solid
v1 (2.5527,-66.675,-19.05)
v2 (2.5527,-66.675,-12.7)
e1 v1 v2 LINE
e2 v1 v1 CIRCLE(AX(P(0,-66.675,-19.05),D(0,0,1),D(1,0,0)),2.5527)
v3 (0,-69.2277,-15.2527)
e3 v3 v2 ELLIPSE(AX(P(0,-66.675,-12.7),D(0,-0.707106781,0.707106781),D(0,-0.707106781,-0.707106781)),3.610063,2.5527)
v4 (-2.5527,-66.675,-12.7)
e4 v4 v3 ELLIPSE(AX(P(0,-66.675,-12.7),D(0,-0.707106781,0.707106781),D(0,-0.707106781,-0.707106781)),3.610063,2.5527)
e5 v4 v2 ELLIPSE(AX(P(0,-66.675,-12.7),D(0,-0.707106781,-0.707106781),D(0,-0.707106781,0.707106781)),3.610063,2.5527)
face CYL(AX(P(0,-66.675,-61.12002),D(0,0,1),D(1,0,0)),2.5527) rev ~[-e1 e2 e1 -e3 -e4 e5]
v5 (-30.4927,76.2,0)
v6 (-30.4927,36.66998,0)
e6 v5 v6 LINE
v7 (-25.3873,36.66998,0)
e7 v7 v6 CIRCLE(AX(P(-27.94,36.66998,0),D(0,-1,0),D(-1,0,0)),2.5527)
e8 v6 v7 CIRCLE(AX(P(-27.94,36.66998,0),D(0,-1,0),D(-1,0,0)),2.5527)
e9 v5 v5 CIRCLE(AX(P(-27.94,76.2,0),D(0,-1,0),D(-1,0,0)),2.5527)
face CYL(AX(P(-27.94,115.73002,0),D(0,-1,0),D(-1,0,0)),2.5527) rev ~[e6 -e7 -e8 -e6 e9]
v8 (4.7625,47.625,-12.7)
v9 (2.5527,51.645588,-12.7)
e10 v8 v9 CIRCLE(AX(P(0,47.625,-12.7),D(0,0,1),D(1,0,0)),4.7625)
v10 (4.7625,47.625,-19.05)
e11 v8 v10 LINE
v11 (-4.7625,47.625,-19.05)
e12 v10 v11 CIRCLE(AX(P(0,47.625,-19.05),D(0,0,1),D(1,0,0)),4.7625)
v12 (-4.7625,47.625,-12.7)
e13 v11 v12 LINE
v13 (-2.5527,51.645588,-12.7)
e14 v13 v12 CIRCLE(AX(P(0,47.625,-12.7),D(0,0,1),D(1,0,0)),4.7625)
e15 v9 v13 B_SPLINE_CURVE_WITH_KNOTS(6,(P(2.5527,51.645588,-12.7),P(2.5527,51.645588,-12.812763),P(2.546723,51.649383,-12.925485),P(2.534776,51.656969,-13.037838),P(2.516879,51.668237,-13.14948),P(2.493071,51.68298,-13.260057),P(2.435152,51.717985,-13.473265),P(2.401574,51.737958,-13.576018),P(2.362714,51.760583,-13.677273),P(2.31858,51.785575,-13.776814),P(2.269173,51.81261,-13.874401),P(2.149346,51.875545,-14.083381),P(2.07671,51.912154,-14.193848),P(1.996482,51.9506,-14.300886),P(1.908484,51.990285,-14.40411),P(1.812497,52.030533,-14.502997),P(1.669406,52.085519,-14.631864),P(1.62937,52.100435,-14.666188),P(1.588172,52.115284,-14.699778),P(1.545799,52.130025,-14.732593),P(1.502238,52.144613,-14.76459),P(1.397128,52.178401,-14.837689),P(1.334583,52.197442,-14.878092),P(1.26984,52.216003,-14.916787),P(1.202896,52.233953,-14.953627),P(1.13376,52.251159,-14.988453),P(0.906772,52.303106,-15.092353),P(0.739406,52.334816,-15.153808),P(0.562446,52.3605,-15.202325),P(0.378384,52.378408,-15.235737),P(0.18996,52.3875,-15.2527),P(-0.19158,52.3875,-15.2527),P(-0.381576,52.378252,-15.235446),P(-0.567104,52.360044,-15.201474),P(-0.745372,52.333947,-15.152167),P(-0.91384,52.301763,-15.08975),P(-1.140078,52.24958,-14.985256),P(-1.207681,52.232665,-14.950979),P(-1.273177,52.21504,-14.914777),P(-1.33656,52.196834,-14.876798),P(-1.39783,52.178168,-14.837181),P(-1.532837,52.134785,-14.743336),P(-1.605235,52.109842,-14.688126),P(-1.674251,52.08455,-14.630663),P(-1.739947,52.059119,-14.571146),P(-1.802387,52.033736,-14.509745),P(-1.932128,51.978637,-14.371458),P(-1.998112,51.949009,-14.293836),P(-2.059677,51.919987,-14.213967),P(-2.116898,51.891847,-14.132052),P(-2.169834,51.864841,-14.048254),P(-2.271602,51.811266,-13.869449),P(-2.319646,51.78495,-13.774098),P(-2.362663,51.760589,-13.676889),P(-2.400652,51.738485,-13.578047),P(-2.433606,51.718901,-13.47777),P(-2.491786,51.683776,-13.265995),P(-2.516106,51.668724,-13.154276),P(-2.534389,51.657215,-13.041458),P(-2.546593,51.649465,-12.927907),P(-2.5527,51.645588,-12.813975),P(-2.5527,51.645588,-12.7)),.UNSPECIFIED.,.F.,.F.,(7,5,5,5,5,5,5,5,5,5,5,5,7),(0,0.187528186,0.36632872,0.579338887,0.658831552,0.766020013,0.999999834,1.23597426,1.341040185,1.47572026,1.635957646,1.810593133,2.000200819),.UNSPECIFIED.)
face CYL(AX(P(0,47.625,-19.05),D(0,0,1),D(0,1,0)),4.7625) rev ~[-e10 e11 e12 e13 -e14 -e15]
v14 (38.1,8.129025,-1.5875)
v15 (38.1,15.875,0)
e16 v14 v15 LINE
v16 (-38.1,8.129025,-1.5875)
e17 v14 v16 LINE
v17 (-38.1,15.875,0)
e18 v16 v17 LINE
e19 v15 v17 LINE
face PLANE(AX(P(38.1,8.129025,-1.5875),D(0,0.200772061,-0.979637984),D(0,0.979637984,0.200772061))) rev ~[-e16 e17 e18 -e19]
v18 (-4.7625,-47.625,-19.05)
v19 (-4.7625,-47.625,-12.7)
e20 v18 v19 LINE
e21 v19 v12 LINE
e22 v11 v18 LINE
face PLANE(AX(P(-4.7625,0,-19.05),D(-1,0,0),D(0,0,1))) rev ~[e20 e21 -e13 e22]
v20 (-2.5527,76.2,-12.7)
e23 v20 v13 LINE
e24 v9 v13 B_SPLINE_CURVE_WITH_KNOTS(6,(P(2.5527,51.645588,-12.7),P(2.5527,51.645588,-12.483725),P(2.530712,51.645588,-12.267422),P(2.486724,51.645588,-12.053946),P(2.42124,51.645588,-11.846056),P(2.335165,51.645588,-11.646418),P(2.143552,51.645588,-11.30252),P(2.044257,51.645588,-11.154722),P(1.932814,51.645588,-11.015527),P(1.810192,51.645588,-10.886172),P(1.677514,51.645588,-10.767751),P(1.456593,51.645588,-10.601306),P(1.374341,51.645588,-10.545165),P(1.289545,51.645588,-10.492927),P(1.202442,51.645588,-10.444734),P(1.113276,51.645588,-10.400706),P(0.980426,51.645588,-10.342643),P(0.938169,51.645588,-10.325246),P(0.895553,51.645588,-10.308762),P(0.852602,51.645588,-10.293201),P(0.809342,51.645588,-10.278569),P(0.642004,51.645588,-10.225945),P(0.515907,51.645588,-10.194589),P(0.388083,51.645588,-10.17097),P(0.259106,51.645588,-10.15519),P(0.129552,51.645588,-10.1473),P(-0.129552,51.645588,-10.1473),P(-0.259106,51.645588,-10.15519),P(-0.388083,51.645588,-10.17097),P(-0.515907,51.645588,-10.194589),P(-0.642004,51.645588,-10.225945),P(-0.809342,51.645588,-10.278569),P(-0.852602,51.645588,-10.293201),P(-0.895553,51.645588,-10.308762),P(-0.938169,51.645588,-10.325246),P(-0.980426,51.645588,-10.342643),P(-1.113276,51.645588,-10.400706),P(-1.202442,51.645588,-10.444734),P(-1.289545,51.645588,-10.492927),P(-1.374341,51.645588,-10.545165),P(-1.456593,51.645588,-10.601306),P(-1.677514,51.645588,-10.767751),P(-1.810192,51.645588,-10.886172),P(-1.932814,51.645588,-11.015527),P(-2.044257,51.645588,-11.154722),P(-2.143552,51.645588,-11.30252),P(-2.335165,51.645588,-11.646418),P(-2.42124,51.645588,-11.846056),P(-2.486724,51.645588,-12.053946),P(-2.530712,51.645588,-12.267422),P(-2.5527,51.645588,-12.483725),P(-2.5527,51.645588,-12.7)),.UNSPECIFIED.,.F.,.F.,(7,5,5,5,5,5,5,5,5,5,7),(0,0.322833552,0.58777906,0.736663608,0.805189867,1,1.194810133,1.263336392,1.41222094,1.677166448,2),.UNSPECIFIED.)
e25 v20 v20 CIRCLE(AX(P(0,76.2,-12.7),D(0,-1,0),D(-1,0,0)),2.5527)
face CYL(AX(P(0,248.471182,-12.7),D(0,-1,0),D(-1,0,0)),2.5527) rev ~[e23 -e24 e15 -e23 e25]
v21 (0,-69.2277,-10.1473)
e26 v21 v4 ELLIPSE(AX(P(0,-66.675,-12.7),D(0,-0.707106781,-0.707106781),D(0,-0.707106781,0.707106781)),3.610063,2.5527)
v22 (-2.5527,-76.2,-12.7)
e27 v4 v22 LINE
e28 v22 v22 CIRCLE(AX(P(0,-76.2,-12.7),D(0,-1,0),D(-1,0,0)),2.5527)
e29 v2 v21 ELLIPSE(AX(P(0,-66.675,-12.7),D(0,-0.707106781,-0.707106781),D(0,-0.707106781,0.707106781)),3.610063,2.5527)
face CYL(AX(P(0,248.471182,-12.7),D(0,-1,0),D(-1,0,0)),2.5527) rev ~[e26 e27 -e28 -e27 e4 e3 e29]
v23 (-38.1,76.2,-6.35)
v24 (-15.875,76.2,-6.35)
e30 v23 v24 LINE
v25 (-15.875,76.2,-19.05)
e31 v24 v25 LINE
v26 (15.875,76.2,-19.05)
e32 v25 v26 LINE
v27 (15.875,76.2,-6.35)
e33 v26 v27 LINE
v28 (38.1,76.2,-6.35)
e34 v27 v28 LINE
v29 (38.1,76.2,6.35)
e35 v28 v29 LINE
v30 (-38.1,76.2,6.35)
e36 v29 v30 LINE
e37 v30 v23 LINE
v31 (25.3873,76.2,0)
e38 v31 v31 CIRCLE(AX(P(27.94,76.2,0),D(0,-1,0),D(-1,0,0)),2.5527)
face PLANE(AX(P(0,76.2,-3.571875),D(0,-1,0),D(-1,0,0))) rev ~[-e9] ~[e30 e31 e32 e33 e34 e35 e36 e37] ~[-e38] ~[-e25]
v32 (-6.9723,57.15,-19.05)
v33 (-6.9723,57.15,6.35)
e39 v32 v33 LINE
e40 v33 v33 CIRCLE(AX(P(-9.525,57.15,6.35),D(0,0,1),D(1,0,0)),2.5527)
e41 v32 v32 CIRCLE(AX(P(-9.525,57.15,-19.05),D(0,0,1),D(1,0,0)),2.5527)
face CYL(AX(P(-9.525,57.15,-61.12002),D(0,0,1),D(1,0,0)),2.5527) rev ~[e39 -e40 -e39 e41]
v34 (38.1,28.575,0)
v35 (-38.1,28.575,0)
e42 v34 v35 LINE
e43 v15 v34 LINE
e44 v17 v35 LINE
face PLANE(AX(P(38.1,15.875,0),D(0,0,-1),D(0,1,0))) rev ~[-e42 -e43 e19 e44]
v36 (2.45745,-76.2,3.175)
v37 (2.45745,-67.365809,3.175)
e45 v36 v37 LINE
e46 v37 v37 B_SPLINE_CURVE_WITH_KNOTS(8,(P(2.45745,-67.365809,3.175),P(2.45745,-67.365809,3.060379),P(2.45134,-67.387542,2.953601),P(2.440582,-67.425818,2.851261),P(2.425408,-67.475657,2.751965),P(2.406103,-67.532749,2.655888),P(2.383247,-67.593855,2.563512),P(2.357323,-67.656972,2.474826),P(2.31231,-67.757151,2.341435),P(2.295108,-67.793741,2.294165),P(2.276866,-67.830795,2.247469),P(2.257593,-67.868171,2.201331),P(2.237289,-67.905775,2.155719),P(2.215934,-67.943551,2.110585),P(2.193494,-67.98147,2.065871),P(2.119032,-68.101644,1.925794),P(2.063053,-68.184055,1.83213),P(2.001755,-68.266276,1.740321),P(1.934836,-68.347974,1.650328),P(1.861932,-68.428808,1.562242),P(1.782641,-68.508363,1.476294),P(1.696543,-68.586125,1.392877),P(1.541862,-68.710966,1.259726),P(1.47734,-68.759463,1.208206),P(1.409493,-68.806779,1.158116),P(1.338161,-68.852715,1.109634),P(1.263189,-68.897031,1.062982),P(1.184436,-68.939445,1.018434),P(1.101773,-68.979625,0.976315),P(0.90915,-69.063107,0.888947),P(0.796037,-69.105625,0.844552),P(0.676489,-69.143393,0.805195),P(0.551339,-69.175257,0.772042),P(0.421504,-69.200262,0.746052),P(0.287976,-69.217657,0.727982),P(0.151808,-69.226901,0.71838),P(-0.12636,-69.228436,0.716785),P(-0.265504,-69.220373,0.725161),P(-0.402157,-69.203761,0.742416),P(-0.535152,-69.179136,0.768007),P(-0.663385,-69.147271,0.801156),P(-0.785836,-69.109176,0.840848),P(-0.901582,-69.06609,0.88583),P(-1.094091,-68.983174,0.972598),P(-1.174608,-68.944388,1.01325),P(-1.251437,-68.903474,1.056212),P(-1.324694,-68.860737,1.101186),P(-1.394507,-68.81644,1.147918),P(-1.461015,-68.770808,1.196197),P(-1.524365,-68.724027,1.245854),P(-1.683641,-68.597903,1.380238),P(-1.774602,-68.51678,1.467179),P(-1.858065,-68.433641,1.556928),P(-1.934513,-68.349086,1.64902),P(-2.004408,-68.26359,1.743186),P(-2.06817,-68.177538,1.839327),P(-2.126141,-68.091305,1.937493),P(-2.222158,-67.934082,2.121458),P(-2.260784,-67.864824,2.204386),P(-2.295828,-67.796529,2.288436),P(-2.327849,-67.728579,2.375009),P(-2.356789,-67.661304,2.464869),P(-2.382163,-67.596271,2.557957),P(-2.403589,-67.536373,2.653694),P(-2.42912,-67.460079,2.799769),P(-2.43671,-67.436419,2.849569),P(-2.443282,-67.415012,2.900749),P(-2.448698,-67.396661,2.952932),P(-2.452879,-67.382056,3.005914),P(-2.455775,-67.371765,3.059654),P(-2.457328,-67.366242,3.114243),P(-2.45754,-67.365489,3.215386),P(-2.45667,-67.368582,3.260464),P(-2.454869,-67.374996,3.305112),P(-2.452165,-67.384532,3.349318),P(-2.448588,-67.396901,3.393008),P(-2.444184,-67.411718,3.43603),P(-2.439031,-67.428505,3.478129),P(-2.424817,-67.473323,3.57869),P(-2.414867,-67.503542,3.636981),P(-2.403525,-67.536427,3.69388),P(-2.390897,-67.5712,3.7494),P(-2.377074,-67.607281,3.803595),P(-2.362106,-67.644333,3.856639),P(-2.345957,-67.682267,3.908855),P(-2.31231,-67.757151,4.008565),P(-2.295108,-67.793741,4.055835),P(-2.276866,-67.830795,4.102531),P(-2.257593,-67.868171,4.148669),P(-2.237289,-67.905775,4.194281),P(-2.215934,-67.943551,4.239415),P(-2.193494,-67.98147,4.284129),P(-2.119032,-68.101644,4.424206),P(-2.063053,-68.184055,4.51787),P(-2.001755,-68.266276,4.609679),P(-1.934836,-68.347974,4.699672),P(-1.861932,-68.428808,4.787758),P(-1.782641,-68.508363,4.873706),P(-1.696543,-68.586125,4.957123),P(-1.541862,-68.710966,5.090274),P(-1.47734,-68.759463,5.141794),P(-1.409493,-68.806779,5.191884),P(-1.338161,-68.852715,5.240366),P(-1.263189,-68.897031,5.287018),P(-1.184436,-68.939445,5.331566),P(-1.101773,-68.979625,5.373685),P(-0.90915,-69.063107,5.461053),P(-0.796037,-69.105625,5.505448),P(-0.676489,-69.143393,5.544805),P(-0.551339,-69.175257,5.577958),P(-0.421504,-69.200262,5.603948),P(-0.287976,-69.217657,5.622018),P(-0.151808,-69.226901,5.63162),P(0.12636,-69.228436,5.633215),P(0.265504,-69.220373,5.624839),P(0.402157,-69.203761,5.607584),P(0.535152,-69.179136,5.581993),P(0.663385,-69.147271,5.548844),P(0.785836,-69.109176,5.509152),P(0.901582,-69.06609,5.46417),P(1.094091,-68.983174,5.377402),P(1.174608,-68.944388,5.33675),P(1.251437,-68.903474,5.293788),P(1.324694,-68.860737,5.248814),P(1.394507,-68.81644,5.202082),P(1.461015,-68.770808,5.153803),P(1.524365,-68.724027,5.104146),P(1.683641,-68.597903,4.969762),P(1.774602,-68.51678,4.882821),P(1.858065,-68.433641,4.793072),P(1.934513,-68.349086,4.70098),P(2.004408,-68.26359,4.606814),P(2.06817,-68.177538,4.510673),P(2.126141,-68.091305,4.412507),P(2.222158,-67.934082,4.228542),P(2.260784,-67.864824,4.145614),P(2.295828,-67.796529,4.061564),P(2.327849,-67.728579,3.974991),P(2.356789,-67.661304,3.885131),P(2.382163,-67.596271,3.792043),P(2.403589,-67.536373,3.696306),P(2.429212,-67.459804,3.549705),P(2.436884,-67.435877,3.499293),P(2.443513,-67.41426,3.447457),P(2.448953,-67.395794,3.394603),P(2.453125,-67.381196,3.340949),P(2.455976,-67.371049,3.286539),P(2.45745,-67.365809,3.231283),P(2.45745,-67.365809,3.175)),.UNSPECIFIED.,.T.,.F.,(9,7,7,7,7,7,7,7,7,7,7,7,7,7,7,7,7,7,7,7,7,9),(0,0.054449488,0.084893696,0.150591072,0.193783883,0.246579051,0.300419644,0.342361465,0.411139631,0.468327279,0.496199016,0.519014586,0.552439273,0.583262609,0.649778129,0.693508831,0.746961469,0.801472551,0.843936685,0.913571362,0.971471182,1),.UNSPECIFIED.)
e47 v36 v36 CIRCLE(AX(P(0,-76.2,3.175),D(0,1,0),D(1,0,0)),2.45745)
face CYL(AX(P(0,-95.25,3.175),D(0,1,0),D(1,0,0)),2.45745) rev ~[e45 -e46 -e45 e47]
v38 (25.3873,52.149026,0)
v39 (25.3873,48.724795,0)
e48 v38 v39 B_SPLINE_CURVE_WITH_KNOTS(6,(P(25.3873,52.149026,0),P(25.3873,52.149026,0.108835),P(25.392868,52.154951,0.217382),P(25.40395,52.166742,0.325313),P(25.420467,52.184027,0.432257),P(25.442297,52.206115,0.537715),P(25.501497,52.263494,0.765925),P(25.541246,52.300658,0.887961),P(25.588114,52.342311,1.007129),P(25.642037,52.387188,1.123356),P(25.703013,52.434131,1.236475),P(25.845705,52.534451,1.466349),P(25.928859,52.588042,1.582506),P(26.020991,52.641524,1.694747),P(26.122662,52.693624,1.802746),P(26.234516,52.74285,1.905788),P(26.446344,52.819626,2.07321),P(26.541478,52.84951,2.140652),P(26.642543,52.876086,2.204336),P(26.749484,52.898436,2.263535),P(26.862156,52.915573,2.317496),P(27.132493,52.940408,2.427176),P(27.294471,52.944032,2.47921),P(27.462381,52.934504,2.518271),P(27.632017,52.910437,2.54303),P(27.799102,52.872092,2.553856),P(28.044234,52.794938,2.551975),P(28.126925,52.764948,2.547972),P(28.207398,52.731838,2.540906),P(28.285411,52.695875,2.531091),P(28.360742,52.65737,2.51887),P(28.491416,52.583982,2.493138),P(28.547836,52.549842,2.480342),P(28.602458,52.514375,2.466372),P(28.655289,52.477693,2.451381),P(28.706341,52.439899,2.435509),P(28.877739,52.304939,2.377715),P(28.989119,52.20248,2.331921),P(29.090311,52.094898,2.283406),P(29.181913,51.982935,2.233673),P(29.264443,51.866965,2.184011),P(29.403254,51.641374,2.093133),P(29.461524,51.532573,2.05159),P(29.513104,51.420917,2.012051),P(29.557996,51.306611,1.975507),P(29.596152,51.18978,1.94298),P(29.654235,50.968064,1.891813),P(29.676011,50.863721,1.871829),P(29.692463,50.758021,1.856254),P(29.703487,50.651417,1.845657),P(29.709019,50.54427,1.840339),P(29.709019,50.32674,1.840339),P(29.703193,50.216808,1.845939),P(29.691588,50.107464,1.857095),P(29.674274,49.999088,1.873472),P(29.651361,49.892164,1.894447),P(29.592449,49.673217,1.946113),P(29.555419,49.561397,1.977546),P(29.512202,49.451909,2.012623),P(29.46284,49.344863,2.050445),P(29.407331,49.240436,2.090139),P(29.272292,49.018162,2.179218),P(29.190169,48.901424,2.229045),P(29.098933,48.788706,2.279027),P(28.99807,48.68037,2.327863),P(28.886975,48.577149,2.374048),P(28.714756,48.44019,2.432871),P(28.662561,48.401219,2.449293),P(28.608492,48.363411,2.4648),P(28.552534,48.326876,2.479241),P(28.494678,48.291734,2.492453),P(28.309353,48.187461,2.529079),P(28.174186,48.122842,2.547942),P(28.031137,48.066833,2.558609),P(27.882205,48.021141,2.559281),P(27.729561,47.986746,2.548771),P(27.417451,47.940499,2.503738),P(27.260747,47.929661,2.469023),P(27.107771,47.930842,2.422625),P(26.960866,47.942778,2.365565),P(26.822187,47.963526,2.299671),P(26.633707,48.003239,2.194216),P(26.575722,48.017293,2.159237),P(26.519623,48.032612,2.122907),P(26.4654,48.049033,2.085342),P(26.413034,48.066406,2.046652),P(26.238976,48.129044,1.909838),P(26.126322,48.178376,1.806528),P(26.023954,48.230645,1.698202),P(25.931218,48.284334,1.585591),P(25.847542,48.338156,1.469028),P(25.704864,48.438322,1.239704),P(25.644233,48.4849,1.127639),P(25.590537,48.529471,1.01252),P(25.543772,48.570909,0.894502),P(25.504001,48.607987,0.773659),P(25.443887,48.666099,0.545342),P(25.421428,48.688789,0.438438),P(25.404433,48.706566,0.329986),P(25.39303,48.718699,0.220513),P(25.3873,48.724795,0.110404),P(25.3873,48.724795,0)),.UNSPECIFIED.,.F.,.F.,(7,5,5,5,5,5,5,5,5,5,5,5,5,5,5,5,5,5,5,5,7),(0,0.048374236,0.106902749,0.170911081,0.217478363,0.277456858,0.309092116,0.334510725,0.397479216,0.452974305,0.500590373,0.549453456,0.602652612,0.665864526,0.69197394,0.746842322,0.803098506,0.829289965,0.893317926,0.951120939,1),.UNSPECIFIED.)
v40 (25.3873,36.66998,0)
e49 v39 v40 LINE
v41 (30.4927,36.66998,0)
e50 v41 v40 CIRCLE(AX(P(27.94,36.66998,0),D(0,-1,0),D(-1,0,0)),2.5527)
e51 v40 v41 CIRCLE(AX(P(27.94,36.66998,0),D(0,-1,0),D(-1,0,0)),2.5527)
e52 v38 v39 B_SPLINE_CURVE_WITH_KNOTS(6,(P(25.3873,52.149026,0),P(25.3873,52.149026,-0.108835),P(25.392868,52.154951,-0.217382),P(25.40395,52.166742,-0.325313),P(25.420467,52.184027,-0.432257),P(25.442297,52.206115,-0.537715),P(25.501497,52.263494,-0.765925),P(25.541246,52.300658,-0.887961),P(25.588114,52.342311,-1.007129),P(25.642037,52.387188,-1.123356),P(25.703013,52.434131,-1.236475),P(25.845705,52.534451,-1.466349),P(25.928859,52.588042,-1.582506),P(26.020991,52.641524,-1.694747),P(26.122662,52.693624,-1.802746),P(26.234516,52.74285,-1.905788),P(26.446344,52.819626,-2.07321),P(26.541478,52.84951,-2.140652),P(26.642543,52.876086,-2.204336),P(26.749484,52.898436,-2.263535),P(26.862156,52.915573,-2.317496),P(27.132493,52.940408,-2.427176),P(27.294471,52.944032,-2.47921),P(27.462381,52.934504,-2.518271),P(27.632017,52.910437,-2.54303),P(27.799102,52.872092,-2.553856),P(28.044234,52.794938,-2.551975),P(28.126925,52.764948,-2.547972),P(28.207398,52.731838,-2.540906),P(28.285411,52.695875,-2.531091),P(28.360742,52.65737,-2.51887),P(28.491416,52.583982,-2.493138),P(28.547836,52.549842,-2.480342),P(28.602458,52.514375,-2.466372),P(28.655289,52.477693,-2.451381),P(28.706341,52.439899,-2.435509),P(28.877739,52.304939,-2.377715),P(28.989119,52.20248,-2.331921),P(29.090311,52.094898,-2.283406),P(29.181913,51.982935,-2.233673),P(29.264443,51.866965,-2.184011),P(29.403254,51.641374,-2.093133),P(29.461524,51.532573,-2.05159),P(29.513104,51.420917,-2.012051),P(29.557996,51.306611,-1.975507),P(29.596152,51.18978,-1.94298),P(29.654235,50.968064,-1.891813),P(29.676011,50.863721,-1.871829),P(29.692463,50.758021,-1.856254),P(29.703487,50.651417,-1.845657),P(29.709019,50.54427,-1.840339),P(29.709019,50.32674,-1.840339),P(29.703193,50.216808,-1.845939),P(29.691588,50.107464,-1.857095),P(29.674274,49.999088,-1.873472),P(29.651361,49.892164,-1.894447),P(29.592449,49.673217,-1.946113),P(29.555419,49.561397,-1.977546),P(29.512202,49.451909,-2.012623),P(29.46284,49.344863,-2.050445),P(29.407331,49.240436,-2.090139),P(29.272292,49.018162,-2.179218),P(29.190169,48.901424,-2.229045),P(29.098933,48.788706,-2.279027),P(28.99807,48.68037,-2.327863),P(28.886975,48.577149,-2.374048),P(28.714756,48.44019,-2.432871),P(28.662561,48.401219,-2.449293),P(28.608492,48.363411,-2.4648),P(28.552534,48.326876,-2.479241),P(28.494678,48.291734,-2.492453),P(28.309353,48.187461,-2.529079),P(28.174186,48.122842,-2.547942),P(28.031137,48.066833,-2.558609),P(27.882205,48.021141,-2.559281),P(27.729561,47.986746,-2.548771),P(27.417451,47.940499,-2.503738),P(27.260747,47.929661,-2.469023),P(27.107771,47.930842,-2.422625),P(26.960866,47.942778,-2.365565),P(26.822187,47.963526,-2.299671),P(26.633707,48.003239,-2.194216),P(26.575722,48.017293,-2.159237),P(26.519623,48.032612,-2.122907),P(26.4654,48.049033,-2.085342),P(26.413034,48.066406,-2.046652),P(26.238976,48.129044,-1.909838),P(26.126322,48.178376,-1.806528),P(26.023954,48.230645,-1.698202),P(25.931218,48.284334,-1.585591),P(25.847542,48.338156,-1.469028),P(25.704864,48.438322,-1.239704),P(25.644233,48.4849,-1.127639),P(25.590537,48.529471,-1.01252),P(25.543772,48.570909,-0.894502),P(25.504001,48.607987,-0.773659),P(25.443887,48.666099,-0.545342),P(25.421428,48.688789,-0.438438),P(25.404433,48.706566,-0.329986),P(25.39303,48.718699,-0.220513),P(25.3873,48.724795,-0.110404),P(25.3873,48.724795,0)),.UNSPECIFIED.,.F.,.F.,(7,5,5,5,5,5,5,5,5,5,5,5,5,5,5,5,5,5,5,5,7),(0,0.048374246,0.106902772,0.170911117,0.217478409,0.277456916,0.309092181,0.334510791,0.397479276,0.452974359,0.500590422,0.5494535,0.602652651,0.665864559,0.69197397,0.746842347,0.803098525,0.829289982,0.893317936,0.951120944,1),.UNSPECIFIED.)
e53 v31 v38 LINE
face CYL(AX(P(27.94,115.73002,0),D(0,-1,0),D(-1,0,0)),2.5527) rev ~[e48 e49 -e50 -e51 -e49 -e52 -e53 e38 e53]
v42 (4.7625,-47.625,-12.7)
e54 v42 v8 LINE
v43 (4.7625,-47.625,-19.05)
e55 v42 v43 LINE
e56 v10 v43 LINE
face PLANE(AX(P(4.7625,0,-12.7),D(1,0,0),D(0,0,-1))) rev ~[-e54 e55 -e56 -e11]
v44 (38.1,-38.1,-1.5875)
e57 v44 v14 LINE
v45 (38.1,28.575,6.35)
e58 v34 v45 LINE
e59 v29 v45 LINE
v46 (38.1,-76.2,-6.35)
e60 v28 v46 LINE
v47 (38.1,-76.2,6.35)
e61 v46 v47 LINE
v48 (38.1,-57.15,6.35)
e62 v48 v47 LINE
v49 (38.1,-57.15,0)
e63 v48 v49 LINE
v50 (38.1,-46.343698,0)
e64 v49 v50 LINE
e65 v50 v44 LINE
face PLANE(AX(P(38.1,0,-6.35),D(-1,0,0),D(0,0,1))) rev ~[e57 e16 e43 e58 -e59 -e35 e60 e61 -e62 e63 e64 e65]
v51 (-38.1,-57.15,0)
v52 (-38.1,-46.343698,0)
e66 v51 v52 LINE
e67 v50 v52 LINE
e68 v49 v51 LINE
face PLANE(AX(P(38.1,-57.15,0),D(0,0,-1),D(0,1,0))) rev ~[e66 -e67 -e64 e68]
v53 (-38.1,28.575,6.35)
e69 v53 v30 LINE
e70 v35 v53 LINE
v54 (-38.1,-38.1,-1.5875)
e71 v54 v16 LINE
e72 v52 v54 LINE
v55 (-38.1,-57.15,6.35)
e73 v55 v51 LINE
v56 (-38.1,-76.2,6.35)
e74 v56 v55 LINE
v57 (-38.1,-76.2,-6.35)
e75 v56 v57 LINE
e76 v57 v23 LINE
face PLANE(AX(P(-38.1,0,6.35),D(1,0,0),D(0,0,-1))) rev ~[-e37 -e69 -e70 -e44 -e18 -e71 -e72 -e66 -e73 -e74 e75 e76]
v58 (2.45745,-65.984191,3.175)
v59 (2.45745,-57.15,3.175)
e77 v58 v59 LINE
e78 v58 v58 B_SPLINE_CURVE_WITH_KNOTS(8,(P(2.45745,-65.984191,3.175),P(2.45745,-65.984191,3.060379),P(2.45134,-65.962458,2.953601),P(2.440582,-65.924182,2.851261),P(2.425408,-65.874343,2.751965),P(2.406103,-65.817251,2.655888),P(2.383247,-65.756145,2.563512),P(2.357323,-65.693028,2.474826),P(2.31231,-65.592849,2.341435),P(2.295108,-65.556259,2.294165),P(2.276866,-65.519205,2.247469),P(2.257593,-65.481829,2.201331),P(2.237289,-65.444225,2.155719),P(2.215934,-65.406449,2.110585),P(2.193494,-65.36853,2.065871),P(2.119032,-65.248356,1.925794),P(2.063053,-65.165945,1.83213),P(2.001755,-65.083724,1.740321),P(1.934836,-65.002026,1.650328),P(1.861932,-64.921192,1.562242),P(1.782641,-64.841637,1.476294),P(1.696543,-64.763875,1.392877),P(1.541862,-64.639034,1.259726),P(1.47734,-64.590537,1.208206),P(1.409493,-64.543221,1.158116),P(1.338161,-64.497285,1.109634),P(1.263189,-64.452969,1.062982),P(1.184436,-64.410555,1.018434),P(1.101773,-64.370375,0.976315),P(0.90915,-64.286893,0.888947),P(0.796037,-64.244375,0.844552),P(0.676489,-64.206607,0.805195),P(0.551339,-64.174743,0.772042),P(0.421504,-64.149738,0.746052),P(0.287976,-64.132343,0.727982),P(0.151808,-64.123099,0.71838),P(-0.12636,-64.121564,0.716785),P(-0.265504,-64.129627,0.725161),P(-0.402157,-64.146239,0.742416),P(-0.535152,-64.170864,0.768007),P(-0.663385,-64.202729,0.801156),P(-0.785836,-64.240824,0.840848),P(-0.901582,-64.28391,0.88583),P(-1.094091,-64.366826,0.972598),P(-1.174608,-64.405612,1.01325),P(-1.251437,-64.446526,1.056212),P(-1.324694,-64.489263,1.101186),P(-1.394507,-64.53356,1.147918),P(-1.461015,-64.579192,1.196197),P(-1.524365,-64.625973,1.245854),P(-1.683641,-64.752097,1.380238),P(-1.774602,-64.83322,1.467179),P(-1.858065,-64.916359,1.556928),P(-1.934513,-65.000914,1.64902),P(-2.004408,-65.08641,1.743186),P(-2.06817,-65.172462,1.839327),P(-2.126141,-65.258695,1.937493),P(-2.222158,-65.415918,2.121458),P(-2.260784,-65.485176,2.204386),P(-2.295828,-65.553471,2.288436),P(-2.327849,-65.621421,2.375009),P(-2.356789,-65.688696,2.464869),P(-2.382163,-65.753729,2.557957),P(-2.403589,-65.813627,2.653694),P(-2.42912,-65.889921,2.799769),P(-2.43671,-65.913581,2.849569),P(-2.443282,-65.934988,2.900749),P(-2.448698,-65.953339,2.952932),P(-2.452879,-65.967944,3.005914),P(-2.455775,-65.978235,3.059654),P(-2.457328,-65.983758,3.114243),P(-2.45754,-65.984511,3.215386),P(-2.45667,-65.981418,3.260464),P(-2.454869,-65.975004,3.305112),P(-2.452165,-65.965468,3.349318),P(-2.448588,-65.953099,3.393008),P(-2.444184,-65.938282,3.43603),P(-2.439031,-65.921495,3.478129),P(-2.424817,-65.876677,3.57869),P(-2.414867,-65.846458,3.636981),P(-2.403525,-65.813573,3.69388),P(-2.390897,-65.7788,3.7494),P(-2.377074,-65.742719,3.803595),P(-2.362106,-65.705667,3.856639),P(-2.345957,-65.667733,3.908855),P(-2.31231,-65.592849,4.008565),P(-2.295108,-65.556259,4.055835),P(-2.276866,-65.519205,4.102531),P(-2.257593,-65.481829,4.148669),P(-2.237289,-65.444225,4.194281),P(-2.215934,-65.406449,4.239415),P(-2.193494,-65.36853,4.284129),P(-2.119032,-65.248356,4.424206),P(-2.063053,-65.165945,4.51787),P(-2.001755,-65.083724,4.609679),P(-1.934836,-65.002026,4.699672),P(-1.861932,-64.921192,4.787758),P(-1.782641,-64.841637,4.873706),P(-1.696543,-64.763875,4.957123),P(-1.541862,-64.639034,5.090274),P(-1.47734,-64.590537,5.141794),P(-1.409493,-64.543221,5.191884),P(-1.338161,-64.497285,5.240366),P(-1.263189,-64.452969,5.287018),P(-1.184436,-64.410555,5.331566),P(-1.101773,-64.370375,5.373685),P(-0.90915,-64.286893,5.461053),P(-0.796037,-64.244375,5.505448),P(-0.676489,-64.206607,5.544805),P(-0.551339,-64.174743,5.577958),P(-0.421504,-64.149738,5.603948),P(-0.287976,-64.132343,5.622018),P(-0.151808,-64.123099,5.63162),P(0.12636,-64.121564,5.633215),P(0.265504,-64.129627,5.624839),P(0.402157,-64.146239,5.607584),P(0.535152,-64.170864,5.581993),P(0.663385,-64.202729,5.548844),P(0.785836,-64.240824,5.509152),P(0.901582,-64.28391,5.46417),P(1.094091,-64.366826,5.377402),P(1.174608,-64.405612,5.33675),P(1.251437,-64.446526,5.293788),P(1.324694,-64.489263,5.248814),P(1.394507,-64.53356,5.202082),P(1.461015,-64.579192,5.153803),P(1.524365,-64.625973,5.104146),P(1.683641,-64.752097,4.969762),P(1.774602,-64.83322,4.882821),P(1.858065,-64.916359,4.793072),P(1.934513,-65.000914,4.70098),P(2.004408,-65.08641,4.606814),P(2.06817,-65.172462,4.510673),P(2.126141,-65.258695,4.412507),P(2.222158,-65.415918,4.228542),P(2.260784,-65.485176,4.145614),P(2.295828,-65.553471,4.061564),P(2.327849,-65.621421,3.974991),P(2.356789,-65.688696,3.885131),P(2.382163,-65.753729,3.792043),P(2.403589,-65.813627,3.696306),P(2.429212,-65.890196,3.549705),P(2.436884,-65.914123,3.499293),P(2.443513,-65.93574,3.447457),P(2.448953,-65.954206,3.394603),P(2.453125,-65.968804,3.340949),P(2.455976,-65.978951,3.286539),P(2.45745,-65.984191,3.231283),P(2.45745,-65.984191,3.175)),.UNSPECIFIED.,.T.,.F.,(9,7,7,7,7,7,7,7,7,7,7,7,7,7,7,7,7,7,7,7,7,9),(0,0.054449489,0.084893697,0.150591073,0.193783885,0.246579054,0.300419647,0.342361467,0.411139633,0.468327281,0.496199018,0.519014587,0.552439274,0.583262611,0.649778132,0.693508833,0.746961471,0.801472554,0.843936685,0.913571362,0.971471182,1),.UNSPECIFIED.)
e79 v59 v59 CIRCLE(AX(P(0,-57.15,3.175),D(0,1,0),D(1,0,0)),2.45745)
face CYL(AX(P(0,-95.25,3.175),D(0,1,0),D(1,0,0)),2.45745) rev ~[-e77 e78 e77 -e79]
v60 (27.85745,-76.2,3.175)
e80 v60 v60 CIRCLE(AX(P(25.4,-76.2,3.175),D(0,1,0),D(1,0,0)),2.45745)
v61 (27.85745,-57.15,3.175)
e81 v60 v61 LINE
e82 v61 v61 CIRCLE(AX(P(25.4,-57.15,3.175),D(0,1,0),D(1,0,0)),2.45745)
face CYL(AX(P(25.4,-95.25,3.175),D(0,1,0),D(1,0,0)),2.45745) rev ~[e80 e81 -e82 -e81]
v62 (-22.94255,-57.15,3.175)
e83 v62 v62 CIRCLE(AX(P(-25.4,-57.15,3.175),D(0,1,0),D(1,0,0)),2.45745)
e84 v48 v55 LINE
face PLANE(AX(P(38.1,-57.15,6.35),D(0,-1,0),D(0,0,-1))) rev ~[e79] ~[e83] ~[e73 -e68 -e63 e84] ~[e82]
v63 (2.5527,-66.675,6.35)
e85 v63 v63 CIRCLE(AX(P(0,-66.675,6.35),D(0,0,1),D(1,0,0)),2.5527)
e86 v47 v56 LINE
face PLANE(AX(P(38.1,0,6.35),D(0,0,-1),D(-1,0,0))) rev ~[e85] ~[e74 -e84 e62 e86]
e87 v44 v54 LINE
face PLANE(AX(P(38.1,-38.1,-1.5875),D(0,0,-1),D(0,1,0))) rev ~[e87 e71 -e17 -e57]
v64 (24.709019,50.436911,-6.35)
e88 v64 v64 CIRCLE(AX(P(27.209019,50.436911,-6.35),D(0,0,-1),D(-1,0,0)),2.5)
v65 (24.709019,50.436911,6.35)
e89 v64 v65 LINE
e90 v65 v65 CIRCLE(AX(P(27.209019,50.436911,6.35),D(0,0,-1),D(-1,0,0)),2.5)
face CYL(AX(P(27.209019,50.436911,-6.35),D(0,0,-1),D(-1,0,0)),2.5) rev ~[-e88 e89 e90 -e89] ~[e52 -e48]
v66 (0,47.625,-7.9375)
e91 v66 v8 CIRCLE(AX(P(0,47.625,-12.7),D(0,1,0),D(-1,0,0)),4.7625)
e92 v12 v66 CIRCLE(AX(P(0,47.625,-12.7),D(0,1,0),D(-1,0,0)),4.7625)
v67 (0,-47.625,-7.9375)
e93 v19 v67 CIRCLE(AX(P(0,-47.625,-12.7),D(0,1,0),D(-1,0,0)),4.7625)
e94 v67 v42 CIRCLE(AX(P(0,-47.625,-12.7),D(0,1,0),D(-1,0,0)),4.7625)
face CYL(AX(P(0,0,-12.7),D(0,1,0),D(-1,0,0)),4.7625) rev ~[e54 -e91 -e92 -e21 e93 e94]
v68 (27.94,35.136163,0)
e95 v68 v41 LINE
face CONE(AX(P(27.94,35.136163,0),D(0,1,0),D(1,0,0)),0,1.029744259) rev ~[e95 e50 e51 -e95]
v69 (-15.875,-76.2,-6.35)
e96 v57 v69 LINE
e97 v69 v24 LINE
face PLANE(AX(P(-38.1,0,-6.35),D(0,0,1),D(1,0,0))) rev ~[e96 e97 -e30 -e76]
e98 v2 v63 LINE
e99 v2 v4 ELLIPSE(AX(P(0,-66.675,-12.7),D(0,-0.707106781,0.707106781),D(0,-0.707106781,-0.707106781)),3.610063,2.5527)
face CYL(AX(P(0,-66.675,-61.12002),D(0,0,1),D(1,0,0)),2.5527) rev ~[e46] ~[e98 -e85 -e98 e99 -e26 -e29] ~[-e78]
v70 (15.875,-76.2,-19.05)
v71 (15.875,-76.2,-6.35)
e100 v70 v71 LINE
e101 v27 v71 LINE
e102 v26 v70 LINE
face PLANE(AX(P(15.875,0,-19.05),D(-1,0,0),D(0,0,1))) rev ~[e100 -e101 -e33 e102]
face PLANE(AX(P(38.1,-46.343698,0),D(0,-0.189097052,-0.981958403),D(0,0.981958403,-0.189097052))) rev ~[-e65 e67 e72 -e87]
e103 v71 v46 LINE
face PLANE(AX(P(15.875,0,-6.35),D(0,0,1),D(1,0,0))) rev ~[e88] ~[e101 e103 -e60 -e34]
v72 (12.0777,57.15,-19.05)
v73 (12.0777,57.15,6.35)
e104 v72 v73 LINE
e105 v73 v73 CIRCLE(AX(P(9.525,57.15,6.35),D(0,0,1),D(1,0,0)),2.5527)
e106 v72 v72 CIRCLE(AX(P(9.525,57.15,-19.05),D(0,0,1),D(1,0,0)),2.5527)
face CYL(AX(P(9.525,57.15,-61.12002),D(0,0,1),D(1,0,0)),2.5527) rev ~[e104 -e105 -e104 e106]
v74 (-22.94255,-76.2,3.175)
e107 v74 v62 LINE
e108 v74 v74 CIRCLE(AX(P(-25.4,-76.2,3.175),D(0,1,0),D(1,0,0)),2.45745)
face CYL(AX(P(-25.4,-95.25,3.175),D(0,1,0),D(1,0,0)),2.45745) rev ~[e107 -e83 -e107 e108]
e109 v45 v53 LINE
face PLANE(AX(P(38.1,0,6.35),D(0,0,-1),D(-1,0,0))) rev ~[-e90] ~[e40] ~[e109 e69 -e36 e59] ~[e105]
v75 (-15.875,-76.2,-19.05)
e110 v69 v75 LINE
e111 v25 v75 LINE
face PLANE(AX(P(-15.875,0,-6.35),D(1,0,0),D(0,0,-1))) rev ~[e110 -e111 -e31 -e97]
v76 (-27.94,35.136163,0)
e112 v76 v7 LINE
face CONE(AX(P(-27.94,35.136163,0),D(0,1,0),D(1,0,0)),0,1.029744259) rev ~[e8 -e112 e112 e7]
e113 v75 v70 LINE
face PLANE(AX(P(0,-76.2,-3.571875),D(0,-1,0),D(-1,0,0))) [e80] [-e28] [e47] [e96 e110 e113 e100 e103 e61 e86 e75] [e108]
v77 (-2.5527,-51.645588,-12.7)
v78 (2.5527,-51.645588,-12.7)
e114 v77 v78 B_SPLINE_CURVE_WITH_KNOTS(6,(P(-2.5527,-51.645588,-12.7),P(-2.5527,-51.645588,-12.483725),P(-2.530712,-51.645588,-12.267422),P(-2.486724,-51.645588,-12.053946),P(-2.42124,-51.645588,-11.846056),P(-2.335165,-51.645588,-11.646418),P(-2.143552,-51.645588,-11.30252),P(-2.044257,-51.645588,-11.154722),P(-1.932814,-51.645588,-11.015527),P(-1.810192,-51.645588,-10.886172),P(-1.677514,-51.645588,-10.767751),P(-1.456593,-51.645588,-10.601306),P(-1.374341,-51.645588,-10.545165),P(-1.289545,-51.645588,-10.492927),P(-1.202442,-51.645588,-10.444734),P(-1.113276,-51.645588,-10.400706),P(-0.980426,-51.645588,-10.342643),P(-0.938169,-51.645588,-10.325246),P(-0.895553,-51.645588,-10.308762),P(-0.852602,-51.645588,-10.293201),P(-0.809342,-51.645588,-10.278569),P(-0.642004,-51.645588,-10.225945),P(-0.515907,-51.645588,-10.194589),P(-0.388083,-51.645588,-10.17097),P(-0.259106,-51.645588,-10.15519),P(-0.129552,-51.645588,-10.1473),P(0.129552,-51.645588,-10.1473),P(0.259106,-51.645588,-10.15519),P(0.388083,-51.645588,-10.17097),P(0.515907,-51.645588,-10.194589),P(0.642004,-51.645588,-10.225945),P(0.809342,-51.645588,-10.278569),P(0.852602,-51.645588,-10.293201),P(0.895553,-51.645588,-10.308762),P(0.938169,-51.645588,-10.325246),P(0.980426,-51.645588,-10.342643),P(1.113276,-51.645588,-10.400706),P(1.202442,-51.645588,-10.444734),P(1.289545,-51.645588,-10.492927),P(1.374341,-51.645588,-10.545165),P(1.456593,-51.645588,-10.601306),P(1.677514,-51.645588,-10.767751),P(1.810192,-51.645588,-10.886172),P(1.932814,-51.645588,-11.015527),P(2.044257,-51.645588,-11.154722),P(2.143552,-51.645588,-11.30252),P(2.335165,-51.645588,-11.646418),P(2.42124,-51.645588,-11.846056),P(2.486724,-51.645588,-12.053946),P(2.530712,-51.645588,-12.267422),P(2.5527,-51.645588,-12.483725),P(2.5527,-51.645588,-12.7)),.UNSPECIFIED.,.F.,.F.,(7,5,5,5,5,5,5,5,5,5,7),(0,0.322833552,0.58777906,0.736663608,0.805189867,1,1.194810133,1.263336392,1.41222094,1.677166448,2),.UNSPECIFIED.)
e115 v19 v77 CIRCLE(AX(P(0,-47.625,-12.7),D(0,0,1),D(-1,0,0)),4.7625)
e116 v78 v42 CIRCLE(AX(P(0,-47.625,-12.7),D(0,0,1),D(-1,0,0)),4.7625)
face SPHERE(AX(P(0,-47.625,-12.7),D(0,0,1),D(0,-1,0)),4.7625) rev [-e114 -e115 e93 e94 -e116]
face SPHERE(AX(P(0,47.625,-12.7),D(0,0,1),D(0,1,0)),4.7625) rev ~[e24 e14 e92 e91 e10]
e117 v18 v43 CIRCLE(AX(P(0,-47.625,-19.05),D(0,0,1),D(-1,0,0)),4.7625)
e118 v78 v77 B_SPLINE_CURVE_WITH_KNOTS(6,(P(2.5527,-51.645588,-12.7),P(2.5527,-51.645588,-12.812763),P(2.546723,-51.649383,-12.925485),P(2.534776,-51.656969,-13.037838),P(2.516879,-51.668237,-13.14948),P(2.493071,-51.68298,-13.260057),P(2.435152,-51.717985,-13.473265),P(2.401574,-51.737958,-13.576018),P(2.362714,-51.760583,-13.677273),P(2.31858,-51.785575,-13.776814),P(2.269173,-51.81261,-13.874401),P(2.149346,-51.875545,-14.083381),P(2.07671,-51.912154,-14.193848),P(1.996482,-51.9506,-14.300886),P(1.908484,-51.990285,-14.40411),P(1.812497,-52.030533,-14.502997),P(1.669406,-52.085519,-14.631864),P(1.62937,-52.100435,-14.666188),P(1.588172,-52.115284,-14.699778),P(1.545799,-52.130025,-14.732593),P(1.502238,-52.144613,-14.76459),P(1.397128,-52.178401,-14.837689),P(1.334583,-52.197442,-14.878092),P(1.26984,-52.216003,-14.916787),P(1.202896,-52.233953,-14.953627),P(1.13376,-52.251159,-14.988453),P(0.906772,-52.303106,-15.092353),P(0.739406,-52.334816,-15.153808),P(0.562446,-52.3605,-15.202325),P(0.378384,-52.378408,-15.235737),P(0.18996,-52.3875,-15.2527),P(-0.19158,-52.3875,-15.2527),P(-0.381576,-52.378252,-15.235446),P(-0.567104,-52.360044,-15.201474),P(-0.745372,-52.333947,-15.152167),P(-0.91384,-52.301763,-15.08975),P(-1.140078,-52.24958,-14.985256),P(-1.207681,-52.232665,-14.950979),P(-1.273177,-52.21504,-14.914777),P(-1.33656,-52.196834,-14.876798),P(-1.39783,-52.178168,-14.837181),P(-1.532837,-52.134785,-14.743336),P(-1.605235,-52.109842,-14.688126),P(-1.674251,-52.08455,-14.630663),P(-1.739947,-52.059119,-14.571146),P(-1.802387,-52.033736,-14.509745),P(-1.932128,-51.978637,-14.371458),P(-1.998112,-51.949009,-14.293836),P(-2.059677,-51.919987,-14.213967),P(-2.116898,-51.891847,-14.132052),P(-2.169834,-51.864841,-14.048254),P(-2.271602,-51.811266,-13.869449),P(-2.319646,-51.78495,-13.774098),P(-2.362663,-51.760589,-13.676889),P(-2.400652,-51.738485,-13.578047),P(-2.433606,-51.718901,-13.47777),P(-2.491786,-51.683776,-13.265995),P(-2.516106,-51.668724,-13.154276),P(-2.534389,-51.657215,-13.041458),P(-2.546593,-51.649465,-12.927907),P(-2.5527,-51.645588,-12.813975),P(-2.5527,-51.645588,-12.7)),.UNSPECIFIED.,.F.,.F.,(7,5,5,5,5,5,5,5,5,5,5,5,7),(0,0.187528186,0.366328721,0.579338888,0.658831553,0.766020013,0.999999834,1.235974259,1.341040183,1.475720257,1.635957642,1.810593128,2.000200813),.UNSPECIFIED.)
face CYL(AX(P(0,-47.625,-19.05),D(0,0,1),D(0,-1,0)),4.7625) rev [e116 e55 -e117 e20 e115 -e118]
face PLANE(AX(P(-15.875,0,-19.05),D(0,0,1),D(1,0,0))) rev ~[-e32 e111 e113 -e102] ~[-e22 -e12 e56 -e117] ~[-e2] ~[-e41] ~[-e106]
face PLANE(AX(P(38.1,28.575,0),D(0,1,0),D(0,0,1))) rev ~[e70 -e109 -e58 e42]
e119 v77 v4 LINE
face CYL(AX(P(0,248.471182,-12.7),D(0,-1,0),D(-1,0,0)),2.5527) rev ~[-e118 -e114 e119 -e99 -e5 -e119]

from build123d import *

# Parameters (mm, degrees)
BOSS_EXTRUDE1_DEPTH              = 76.2
CUT_EXTRUDE3_DEPTH               = 47.625
CUT_EXTRUDE4_DEPTH               = 110.433918417
F_10_0_1935_DIAMETER_HOLE1_D     = 4.9149
F_10_0_1935_DIAMETER_HOLE1_DEPTH = 19.05
F_10_0_1935_DIAMETER_HOLE1_TIP   = 1.476584928
F_1_4_20_TAPPED_HOLE1_D          = 5.1054
SKETCH19_R                       = 2.499999953
CUT_EXTRUDE5_DEPTH               = 87.135590889
F_1_4_20_TAPPED_HOLE2_D          = 5.1054
F_1_4_20_TAPPED_HOLE2_DEPTH      = 39.53002
F_1_4_20_TAPPED_HOLE2_TIP        = 1.533816902
F_1_4_20_TAPPED_HOLE3_D          = 5.1054
F_1_4_20_TAPPED_HOLE3_DEPTH      = 42.07002
F_1_4_20_TAPPED_HOLE3_TIP        = 1.533816902


with BuildPart() as part:
    # Sketch1 → Boss-Extrude1 (new, symmetric)
    with BuildSketch(Plane(origin=(0, 0, 0), x_dir=(1, 0, 0), z_dir=(0, 1, 0))):
        Polygon((-15.875, 6.35), (-15.875, 19.05), (15.875, 19.05), (15.875, 6.35), (38.1, 6.35), (38.1, -6.35), (-38.1, -6.35), (-38.1, 6.35), align=None)
    extrude(amount=BOSS_EXTRUDE1_DEPTH, both=True)

    # Sketch5 → Cut-Extrude3 (cut, symmetric)
    with BuildSketch(Plane(origin=(0, 0, 0), x_dir=(1, 0, 0), z_dir=(0, 1, 0))):
        with BuildLine():
            Line((-4.7625, 19.05), (-4.7625, 12.7))
            ThreePointArc((-4.7625, 12.7), (0, 7.9375), (4.7625, 12.7))
            Line((4.7625, 12.7), (4.7625, 19.05))
            Line((4.7625, 19.05), (-4.7625, 19.05))
        make_face()
    extrude(amount=CUT_EXTRUDE3_DEPTH, both=True, mode=Mode.SUBTRACT)

    # Sketch9 → Cut-Revolve1 (revolve, cut)
    with BuildSketch(Plane(origin=(0, 0, 0), x_dir=(0, 0, -1), z_dir=(1, 0, 0))):
        with BuildLine():
            Line((19.05, -52.3875), (12.7, -52.3875))
            ThreePointArc((12.7, -52.3875), (9.332403955, -50.992596045), (7.9375, -47.625))
            Line((7.9375, -47.625), (19.05, -47.625))
            Line((19.05, -47.625), (19.05, -52.3875))
        make_face()
    cut_revolve1 = revolve(axis=Axis((0, -47.625, -7.9375), (0, 0, -1)), mode=Mode.SUBTRACT)

    # Mirror1: Cut-Revolve1 across plane
    add(cut_revolve1.mirror(Plane.ZX), mode=Mode.SUBTRACT)

    # Sketch12 → Cut-Extrude4 (cut, through all)
    with BuildSketch(Plane(origin=(38.1, 0, 0), x_dir=(0, 0, -1), z_dir=(1, 0, 0))):
        Polygon((-6.35, -57.15), (0, -57.15), (0, -46.343697859), (1.5875, -38.1), (1.5875, 8.129025313), (0, 15.875), (0, 28.575), (-6.35, 28.575), align=None)
    extrude(amount=-CUT_EXTRUDE4_DEPTH, mode=Mode.SUBTRACT)

    # #10 (0.1935) Diameter Hole1
    with Locations(Plane(origin=(0, -76.2, 0), x_dir=(-1, 0, 0), z_dir=(0, -1, 0))):
        with Locations((25.4, -3.175), (-25.4, -3.175), (0, -3.175)):
            Hole(F_10_0_1935_DIAMETER_HOLE1_D / 2, depth=F_10_0_1935_DIAMETER_HOLE1_DEPTH)
            with Locations((0, 0, -(F_10_0_1935_DIAMETER_HOLE1_DEPTH + F_10_0_1935_DIAMETER_HOLE1_TIP / 2))):  # 118° drill point
                Cone(0, F_10_0_1935_DIAMETER_HOLE1_D / 2, F_10_0_1935_DIAMETER_HOLE1_TIP, mode=Mode.SUBTRACT)

    # 1/4-20 Tapped Hole1 (through all)
    with Locations(Plane(origin=(0, 76.2, 0), x_dir=(1, 0, 0), z_dir=(0, 1, 0))):
        with Locations((0, 12.7)):
            Hole(F_1_4_20_TAPPED_HOLE1_D / 2)

    # Sketch19 → Cut-Extrude5 (cut, through all)
    with BuildSketch(Plane(origin=(0, 0, -6.35), x_dir=(-1, 0, 0), z_dir=(0, 0, -1))):
        with Locations((-27.209019229, 50.43691079)):
            Circle(SKETCH19_R)
    extrude(amount=-CUT_EXTRUDE5_DEPTH, mode=Mode.SUBTRACT)

    # 1/4-20 Tapped Hole2
    with Locations(Plane(origin=(0, 76.2, 0), x_dir=(1, 0, 0), z_dir=(0, 1, 0))):
        with Locations((27.94, 0), (-27.94, 0)):
            Hole(F_1_4_20_TAPPED_HOLE2_D / 2, depth=F_1_4_20_TAPPED_HOLE2_DEPTH)
            with Locations((0, 0, -(F_1_4_20_TAPPED_HOLE2_DEPTH + F_1_4_20_TAPPED_HOLE2_TIP / 2))):  # 118° drill point
                Cone(0, F_1_4_20_TAPPED_HOLE2_D / 2, F_1_4_20_TAPPED_HOLE2_TIP, mode=Mode.SUBTRACT)

    # 1/4-20 Tapped Hole3
    with Locations(Plane(origin=(0, 0, -19.05), x_dir=(-1, 0, 0), z_dir=(0, 0, -1))):
        with Locations((0, -66.675), (9.525, 57.15), (-9.525, 57.15)):
            Hole(F_1_4_20_TAPPED_HOLE3_D / 2, depth=F_1_4_20_TAPPED_HOLE3_DEPTH)
            with Locations((0, 0, -(F_1_4_20_TAPPED_HOLE3_DEPTH + F_1_4_20_TAPPED_HOLE3_TIP / 2))):  # 118° drill point
                Cone(0, F_1_4_20_TAPPED_HOLE3_D / 2, F_1_4_20_TAPPED_HOLE3_TIP, mode=Mode.SUBTRACT)


solid = part.part
